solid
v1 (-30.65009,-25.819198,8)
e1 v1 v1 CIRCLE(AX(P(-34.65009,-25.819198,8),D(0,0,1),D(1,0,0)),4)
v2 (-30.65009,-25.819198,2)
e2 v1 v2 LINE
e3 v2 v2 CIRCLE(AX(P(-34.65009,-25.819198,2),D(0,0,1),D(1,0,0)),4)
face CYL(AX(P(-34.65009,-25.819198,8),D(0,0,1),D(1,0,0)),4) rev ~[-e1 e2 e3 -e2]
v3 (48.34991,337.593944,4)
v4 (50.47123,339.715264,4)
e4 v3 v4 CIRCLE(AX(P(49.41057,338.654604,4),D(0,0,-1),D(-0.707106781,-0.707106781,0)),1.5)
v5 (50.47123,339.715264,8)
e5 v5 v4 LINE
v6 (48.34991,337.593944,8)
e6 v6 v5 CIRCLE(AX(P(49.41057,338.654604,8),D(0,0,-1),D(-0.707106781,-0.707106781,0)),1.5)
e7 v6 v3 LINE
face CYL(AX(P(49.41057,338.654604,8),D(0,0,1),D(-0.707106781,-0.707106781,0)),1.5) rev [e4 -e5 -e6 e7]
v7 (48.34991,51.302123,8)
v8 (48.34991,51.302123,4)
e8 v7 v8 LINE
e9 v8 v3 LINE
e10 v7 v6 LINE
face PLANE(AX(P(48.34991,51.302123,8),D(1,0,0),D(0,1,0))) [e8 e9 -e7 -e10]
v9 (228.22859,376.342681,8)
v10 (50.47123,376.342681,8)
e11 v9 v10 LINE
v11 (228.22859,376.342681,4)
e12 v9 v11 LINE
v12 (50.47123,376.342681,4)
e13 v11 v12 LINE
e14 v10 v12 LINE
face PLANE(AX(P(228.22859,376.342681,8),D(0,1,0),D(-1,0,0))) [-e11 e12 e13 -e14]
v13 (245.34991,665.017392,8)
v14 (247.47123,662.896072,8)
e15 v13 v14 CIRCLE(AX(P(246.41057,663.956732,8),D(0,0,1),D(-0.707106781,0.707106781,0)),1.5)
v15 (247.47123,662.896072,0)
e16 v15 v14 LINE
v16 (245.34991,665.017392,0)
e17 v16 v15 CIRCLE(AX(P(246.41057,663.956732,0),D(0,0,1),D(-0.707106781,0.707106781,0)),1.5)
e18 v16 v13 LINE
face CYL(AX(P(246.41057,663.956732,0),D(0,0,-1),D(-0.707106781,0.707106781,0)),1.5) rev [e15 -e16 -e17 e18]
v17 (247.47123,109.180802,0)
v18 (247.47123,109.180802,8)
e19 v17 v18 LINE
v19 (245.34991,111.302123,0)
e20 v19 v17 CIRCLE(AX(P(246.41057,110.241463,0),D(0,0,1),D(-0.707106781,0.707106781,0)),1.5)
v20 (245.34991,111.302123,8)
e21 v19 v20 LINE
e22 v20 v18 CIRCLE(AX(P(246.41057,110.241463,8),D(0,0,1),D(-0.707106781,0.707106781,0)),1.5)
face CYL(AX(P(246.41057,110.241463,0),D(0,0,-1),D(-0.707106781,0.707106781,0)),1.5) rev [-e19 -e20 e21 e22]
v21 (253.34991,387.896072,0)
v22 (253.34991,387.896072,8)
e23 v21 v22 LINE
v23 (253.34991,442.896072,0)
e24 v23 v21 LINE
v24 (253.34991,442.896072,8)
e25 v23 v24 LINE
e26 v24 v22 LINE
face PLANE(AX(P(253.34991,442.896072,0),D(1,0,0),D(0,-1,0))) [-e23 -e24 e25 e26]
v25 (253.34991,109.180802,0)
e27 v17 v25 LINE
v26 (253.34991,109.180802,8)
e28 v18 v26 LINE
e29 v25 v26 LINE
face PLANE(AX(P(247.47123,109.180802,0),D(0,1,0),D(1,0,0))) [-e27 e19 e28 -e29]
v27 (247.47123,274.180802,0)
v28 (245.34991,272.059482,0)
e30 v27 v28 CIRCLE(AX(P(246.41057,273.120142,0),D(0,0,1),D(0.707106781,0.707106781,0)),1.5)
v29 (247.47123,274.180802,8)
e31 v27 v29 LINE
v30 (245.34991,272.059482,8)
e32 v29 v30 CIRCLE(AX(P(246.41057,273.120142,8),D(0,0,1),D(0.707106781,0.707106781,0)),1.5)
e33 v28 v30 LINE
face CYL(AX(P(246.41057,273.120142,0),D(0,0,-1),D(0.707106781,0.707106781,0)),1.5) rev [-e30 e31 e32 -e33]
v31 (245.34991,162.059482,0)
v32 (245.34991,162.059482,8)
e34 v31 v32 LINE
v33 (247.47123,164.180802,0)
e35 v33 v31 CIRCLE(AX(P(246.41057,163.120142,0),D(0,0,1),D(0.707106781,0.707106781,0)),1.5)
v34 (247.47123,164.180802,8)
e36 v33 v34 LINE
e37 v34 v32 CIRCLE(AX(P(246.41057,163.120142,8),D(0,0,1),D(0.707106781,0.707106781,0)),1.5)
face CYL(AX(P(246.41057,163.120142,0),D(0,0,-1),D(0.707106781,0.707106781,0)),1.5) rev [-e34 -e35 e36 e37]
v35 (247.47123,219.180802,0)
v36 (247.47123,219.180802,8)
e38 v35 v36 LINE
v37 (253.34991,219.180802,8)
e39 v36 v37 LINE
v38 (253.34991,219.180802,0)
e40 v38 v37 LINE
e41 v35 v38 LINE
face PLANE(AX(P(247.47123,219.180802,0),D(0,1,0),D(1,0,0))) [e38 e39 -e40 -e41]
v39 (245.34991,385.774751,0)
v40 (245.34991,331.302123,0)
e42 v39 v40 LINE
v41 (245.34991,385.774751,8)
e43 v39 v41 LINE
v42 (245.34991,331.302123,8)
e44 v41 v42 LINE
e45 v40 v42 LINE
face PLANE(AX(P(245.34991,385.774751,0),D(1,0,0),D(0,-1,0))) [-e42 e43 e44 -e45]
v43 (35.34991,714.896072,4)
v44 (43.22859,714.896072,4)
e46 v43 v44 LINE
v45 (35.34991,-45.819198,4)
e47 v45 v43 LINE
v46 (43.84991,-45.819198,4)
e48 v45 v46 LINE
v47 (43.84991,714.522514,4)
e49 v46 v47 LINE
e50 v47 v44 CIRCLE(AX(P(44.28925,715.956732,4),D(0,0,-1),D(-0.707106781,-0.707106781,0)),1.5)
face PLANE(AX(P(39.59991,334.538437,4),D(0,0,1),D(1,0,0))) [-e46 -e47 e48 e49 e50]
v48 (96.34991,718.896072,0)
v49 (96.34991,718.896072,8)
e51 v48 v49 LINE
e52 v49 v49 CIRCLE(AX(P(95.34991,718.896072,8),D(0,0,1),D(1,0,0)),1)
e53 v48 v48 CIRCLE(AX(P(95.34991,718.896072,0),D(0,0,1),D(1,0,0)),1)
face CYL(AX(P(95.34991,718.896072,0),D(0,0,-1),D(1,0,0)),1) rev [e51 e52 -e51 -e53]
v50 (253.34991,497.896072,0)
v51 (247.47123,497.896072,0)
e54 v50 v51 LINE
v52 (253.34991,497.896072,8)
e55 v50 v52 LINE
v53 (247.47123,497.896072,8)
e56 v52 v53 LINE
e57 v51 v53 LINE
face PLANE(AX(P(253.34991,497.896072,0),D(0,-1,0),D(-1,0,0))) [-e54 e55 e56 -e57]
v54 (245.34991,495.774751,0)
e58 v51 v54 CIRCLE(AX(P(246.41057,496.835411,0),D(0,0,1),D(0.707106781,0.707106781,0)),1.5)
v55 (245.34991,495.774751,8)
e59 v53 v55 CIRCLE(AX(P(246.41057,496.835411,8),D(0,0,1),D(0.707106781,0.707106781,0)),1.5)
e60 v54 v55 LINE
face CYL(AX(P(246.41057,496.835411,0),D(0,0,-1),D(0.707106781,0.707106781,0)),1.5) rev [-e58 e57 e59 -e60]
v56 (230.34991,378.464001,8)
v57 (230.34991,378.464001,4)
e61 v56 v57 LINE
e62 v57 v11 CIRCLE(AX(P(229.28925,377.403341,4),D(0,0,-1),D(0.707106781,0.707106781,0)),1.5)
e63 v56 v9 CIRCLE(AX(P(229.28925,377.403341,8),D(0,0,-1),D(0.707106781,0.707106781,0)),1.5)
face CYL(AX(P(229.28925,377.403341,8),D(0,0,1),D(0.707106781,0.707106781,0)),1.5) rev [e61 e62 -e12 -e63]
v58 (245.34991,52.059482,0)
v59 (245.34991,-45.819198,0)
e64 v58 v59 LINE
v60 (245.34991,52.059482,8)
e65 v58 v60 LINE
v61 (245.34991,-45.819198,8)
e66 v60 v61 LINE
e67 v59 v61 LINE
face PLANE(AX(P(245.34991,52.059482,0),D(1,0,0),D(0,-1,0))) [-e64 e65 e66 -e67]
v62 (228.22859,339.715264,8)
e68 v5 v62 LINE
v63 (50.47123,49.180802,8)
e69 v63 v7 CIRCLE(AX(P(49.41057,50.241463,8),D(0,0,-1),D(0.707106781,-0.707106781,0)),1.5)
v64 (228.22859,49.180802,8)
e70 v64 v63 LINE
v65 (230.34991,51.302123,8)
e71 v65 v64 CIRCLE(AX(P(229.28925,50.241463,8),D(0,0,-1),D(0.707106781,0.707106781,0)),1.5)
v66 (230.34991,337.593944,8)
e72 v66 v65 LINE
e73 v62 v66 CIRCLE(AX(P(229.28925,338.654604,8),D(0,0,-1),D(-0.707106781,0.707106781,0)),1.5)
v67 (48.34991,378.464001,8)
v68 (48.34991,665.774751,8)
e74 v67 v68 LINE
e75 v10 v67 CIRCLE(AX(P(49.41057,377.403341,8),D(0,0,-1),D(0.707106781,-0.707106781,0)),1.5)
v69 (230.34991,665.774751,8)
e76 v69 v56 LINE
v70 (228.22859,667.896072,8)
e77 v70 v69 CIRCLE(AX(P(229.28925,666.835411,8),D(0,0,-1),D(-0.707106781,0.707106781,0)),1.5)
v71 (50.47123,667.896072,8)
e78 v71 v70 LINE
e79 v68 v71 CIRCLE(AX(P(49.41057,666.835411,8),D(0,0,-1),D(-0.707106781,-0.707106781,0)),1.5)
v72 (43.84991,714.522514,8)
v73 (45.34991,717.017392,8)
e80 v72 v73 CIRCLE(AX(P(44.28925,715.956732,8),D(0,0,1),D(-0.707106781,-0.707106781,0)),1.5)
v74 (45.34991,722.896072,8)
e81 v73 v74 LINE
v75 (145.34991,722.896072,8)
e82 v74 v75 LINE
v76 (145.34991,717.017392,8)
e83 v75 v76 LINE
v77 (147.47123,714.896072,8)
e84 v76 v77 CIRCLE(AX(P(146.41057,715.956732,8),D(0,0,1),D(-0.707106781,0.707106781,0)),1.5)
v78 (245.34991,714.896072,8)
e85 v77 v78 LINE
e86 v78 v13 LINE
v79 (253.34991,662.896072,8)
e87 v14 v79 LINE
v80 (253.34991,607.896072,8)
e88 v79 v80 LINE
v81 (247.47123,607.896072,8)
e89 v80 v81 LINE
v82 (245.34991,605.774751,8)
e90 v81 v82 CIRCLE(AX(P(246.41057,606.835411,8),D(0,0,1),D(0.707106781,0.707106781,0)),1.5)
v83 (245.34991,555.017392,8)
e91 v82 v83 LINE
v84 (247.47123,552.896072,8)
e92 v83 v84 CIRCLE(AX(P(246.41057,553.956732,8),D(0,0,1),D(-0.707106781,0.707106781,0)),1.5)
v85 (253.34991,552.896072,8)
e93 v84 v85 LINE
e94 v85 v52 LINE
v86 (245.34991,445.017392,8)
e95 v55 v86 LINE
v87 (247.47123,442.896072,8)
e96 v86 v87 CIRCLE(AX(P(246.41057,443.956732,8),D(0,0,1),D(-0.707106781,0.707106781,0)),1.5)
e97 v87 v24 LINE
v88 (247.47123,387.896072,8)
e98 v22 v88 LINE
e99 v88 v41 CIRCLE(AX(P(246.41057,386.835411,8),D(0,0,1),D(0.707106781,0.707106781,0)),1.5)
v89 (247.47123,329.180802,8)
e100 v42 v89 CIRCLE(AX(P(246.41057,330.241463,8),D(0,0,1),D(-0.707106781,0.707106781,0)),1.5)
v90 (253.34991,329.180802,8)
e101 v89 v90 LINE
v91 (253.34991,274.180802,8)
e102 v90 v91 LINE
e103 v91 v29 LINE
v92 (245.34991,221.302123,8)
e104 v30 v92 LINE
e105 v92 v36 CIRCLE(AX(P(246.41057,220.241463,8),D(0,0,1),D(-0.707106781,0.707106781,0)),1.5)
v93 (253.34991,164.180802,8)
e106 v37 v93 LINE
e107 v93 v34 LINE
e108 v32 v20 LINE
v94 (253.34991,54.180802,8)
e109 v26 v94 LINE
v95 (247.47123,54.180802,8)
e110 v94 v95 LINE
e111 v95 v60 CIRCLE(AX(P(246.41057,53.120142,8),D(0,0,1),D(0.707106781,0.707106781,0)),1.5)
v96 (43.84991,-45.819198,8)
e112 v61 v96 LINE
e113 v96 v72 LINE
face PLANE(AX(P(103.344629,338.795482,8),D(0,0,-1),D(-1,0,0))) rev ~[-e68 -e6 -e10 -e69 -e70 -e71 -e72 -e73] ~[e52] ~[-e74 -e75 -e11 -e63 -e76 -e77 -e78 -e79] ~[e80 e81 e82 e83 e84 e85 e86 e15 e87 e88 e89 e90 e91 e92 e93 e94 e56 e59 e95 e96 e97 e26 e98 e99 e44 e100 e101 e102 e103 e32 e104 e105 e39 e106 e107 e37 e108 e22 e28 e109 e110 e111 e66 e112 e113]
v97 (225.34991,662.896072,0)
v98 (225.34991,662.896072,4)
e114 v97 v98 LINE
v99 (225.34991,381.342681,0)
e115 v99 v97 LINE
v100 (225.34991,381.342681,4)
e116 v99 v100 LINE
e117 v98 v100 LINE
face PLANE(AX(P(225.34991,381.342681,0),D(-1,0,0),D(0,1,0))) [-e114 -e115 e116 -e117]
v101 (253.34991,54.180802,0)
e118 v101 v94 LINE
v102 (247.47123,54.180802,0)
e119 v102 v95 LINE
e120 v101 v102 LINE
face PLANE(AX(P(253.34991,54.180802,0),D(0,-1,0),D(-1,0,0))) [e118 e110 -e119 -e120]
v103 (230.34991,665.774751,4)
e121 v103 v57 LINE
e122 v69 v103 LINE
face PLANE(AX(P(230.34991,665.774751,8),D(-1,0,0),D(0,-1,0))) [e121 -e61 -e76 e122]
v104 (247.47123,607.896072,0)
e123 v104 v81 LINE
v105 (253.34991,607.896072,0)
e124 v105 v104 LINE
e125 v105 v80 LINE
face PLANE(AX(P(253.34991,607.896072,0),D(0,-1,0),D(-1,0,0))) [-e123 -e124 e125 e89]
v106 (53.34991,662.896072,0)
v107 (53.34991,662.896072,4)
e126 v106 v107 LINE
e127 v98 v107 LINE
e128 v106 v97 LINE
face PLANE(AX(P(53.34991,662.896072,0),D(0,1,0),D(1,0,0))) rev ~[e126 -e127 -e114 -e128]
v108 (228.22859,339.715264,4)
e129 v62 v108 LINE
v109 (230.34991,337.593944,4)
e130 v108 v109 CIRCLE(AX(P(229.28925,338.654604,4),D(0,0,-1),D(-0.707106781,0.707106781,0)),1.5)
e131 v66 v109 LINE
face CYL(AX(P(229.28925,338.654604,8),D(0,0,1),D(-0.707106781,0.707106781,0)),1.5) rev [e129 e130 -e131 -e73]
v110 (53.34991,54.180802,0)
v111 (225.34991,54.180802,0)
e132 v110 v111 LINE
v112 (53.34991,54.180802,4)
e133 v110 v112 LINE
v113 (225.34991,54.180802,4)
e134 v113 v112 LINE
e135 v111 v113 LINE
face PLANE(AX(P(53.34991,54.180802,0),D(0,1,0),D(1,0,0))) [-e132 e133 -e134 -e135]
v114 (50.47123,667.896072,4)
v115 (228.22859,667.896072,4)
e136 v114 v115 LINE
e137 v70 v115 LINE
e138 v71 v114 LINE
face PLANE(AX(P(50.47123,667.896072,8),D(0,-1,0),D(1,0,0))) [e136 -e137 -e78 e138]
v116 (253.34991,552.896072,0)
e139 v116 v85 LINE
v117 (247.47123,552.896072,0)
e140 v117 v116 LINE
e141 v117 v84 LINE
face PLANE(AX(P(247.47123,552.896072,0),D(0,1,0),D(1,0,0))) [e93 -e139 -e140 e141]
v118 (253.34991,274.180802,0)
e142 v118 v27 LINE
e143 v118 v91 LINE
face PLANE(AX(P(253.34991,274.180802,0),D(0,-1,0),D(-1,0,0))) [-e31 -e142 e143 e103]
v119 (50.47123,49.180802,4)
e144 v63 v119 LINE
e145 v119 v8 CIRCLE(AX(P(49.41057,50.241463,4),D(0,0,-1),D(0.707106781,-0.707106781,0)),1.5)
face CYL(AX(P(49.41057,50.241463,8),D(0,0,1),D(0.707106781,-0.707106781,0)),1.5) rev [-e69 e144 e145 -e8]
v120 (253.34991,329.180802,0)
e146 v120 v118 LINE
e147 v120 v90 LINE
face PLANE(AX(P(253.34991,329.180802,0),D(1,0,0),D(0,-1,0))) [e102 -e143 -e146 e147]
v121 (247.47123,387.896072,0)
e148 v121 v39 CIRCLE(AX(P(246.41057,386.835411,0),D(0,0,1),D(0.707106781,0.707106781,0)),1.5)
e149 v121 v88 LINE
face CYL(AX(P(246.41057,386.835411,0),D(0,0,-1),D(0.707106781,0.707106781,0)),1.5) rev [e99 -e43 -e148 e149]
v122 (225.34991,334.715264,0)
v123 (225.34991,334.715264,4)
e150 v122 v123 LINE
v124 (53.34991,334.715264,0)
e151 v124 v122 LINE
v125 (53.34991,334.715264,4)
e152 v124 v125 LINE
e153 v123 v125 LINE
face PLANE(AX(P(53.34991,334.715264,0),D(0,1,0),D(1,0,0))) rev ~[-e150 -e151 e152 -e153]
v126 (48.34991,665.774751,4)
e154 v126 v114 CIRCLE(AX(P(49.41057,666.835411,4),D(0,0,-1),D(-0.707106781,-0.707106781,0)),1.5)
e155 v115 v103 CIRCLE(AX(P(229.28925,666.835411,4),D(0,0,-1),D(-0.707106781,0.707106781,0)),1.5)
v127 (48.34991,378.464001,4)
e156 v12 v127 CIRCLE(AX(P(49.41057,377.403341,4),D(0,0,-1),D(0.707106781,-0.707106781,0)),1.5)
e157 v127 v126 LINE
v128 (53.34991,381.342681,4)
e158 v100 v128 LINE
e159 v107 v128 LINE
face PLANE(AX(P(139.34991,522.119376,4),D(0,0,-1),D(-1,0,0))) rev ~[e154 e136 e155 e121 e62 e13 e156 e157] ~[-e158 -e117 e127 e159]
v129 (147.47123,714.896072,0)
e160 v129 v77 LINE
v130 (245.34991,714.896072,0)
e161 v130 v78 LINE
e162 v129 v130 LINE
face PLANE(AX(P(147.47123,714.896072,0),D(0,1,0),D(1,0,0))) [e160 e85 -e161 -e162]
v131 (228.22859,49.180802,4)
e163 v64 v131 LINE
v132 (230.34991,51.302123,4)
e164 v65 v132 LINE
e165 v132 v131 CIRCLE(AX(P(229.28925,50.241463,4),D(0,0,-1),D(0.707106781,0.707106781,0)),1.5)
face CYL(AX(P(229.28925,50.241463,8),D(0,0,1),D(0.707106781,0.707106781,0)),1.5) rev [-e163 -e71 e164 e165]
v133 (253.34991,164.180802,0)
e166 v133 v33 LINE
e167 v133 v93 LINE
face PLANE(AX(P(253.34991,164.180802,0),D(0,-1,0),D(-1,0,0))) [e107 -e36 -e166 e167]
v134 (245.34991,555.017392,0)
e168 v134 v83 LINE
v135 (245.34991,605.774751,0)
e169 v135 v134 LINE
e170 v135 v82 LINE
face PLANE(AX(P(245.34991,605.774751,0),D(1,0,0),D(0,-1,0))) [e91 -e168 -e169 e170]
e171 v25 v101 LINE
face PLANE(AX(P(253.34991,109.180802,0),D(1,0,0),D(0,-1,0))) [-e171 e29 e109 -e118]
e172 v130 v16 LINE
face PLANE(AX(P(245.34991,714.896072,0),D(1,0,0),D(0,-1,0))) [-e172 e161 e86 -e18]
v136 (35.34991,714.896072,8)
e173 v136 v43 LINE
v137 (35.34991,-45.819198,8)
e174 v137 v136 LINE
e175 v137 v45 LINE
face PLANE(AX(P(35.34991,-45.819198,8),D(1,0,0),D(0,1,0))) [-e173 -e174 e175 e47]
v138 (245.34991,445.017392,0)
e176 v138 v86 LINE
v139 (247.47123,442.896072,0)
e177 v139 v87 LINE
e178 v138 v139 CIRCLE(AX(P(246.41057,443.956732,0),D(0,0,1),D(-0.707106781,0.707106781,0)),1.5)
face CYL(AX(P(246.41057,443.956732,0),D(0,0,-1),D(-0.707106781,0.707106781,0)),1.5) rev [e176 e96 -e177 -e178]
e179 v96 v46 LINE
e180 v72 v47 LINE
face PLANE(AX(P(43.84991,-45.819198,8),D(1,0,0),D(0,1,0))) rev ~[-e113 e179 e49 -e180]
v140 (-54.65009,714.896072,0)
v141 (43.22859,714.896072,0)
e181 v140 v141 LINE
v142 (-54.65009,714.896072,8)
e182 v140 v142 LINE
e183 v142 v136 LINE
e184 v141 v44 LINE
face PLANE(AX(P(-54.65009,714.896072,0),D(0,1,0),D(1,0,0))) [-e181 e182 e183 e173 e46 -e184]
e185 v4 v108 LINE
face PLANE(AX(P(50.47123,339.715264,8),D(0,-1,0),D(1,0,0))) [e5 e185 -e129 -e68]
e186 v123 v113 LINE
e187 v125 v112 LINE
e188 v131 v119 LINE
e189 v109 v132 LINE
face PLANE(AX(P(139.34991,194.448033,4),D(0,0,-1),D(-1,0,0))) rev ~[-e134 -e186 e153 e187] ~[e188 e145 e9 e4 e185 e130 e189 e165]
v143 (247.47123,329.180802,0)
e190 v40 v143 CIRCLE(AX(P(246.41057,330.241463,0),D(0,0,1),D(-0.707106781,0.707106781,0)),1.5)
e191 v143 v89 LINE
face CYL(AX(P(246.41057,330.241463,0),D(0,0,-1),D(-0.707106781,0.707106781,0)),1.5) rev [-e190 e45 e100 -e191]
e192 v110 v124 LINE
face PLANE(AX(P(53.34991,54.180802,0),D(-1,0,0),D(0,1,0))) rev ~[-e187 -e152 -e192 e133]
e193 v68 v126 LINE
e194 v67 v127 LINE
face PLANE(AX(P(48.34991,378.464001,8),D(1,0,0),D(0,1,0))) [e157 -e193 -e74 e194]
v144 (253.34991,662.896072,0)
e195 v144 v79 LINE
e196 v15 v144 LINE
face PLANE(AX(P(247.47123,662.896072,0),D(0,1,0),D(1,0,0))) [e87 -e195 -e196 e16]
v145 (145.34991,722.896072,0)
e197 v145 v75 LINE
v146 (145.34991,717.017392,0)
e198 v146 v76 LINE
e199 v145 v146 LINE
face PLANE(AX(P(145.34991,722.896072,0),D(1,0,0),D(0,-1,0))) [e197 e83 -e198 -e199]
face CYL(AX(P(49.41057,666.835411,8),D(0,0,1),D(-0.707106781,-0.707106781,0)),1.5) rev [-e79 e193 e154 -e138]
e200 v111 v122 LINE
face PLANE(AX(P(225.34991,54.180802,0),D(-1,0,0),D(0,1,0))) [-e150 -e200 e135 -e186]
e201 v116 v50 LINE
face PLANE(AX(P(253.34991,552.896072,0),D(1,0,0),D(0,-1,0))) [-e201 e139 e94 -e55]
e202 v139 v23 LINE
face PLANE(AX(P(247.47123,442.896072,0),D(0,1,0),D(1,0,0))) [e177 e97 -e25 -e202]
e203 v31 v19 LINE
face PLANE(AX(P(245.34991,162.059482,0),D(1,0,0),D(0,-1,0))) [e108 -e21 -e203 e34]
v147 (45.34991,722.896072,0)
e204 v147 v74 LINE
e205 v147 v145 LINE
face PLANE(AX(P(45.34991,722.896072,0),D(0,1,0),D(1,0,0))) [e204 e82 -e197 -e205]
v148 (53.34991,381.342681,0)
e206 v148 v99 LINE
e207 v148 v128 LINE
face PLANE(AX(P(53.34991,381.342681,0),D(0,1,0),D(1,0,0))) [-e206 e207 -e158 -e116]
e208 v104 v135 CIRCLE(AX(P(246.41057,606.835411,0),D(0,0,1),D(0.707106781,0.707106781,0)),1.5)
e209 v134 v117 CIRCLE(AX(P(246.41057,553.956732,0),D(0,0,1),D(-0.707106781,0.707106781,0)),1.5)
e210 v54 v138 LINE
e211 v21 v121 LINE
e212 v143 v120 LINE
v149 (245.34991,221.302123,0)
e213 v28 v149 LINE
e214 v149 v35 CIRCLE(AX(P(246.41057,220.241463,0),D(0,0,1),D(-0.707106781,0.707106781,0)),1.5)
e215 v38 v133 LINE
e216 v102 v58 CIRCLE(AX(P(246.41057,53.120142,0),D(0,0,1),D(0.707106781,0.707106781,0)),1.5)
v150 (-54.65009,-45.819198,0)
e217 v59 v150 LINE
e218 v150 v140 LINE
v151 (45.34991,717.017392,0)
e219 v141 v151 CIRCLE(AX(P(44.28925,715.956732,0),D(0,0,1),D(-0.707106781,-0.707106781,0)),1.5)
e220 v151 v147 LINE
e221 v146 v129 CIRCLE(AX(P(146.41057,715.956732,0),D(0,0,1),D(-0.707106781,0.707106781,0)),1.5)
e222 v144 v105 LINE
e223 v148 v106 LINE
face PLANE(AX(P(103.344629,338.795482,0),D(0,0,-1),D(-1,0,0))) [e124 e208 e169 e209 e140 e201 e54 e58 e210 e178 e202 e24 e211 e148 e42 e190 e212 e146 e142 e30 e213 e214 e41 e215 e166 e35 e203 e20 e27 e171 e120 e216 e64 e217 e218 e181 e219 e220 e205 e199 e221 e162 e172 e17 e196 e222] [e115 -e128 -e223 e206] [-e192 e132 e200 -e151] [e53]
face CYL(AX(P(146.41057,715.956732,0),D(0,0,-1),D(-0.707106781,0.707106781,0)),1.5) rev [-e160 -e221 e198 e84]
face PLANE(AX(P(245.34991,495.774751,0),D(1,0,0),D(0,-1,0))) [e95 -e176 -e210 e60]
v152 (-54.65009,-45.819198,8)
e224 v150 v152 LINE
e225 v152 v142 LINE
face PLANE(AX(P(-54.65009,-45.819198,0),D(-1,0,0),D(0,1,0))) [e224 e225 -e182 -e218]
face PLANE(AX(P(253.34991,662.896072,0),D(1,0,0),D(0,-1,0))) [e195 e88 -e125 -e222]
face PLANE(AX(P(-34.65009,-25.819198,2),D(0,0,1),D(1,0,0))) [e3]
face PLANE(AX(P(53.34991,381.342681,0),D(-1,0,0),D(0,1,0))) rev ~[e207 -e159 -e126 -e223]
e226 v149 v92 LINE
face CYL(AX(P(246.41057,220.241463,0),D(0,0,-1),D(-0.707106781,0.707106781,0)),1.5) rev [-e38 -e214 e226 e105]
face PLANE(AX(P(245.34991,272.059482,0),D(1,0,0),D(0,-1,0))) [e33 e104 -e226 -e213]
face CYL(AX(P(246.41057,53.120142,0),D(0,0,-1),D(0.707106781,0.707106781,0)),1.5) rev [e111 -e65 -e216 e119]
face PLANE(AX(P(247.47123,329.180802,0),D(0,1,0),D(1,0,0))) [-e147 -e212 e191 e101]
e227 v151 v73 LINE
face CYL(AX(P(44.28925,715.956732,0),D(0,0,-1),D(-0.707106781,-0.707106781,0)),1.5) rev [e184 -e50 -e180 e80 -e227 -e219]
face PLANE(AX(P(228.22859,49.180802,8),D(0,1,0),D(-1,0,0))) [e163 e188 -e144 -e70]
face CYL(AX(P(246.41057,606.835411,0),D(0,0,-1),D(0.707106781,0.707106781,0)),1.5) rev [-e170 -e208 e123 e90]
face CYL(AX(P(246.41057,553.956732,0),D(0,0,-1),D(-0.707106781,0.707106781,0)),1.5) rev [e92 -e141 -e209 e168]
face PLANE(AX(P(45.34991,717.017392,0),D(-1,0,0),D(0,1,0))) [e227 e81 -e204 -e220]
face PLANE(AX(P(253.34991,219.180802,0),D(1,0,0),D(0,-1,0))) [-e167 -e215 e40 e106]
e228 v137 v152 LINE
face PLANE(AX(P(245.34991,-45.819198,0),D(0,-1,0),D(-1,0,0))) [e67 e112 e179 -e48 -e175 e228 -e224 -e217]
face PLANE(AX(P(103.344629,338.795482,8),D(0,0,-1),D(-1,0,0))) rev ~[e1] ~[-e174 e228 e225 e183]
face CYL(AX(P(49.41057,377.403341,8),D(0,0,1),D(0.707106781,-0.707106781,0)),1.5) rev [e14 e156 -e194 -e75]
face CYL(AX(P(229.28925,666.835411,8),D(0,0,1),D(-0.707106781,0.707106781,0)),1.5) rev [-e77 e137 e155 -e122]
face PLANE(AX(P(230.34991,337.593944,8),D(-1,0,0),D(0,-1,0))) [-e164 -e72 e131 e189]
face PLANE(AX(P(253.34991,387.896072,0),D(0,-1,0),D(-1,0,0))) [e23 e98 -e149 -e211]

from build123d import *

# Parameters (mm, degrees)
ESQUISSE1_R             = 1
ESQUISSE1_W             = 172
ESQUISSE1_H             = 281.553390594
ESQUISSE1_H_2           = 280.534461641
BOSS_EXTRU_1_DEPTH      = 8
ENL_V_MAT_EXTRU_1_DEPTH = 4
ESQUISSE3_W             = 8.5
ESQUISSE3_H             = 760.715269233
ENL_V_MAT_EXTRU_2_DEPTH = 4
ESQUISSE4_R             = 4
ENL_V_MAT_EXTRU_3_DEPTH = 6


with BuildPart() as part:
    # Esquisse1 → Boss.-Extru.1 (new body)
    with BuildSketch(Plane.XY):
        with BuildLine():
            Line((-54.650090097, -45.819197646), (-54.650090097, 358.028972494))
            Line((-54.650090097, 358.028972494), (-54.650090097, 714.896071587))
            Line((-54.650090097, 714.896071587), (43.228589559, 714.896071587))
            ThreePointArc((43.228589559, 714.896071587), (45.349909903, 714.896071587), (45.349909903, 717.01739193))
            Line((45.349909903, 717.01739193), (45.349909903, 722.896071587))
            Line((45.349909903, 722.896071587), (145.349909903, 722.896071587))
            Line((145.349909903, 722.896071587), (145.349909903, 717.01739193))
            ThreePointArc((145.349909903, 717.01739193), (145.349909903, 714.896071587), (147.471230246, 714.896071587))
            Line((147.471230246, 714.896071587), (245.349909903, 714.896071587))
            Line((245.349909903, 714.896071587), (245.349909903, 665.01739193))
            ThreePointArc((245.349909903, 665.01739193), (245.349909903, 662.896071587), (247.471230246, 662.896071587))
            Line((247.471230246, 662.896071587), (253.349909903, 662.896071587))
            Line((253.349909903, 662.896071587), (253.349909903, 607.896071587))
            Line((253.349909903, 607.896071587), (247.471230246, 607.896071587))
            ThreePointArc((247.471230246, 607.896071587), (245.349909903, 607.896071587), (245.349909903, 605.774751243))
            Line((245.349909903, 605.774751243), (245.349909903, 555.01739193))
            ThreePointArc((245.349909903, 555.01739193), (245.349909903, 552.896071587), (247.471230246, 552.896071587))
            Line((247.471230246, 552.896071587), (253.349909903, 552.896071587))
            Line((253.349909903, 552.896071587), (253.349909903, 497.896071587))
            Line((253.349909903, 497.896071587), (247.471230246, 497.896071587))
            ThreePointArc((247.471230246, 497.896071587), (245.349909903, 497.896071587), (245.349909903, 495.774751243))
            Line((245.349909903, 495.774751243), (245.349909903, 445.01739193))
            ThreePointArc((245.349909903, 445.01739193), (245.349909903, 442.896071587), (247.471230246, 442.896071587))
            Line((247.471230246, 442.896071587), (253.349909903, 442.896071587))
            Line((253.349909903, 442.896071587), (253.349909903, 387.896071587))
            Line((253.349909903, 387.896071587), (247.471230246, 387.896071587))
            ThreePointArc((247.471230246, 387.896071587), (245.349909903, 387.896071587), (245.349909903, 385.774751243))
            Line((245.349909903, 385.774751243), (245.349909903, 331.302122698))
            ThreePointArc((245.349909903, 331.302122698), (245.349909903, 329.180802354), (247.471230246, 329.180802354))
            Line((247.471230246, 329.180802354), (253.349909903, 329.180802354))
            Line((253.349909903, 329.180802354), (253.349909903, 274.180802354))
            Line((253.349909903, 274.180802354), (247.471230246, 274.180802354))
            ThreePointArc((247.471230246, 274.180802354), (245.349909903, 274.180802354), (245.349909903, 272.059482011))
            Line((245.349909903, 272.059482011), (245.349909903, 221.302122698))
            ThreePointArc((245.349909903, 221.302122698), (245.349909903, 219.180802354), (247.471230246, 219.180802354))
            Line((247.471230246, 219.180802354), (253.349909903, 219.180802354))
            Line((253.349909903, 219.180802354), (253.349909903, 164.180802354))
            Line((253.349909903, 164.180802354), (247.471230246, 164.180802354))
            ThreePointArc((247.471230246, 164.180802354), (245.349909903, 164.180802354), (245.349909903, 162.059482011))
            Line((245.349909903, 162.059482011), (245.349909903, 111.302122698))
            ThreePointArc((245.349909903, 111.302122698), (245.349909903, 109.180802354), (247.471230246, 109.180802354))
            Line((247.471230246, 109.180802354), (253.349909903, 109.180802354))
            Line((253.349909903, 109.180802354), (253.349909903, 54.180802354))
            Line((253.349909903, 54.180802354), (247.471230246, 54.180802354))
            ThreePointArc((247.471230246, 54.180802354), (245.349909903, 54.180802354), (245.349909903, 52.059482011))
            Line((245.349909903, 52.059482011), (245.349909903, -45.819197646))
            Line((245.349909903, -45.819197646), (-54.650090097, -45.819197646))
        make_face()
        with Locations((95.349909903, 718.896071587)):
            Circle(ESQUISSE1_R, mode=Mode.SUBTRACT)
        with Locations((139.349909903, 522.11937629)):
            Rectangle(ESQUISSE1_W, ESQUISSE1_H, mode=Mode.SUBTRACT)
        with Locations((139.349909903, 194.448033175)):
            Rectangle(ESQUISSE1_W, ESQUISSE1_H_2, mode=Mode.SUBTRACT)
    extrude(amount=BOSS_EXTRU_1_DEPTH)

    # Esquisse2 → Enlèv. mat.-Extru.1 (cut)
    with BuildSketch(Plane.XY.offset(8)):
        with BuildLine():
            Line((50.471230246, 339.715263995), (228.228589559, 339.715263995))
            ThreePointArc((228.228589559, 339.715263995), (230.349909903, 339.715263995), (230.349909903, 337.593943652))
            Line((230.349909903, 337.593943652), (230.349909903, 51.302122698))
            ThreePointArc((230.349909903, 51.302122698), (230.349909903, 49.180802354), (228.228589559, 49.180802354))
            Line((228.228589559, 49.180802354), (50.471230246, 49.180802354))
            ThreePointArc((50.471230246, 49.180802354), (48.349909903, 49.180802354), (48.349909903, 51.302122698))
            Line((48.349909903, 51.302122698), (48.349909903, 337.593943652))
            ThreePointArc((48.349909903, 337.593943652), (48.349909903, 339.715263995), (50.471230246, 339.715263995))
        make_face()
        with BuildLine():
            Line((50.471230246, 667.896071587), (228.228589559, 667.896071587))
            ThreePointArc((228.228589559, 667.896071587), (230.349909903, 667.896071587), (230.349909903, 665.774751243))
            Line((230.349909903, 665.774751243), (230.349909903, 378.464001337))
            ThreePointArc((230.349909903, 378.464001337), (230.349909903, 376.342680993), (228.228589559, 376.342680993))
            Line((228.228589559, 376.342680993), (50.471230246, 376.342680993))
            ThreePointArc((50.471230246, 376.342680993), (48.349909903, 376.342680993), (48.349909903, 378.464001337))
            Line((48.349909903, 378.464001337), (48.349909903, 665.774751243))
            ThreePointArc((48.349909903, 665.774751243), (48.349909903, 667.896071587), (50.471230246, 667.896071587))
        make_face()
    extrude(amount=-ENL_V_MAT_EXTRU_1_DEPTH, mode=Mode.SUBTRACT)

    # Esquisse3 → Enlèv. mat.-Extru.2 (cut)
    with BuildSketch(Plane.XY.offset(8)):
        with Locations((39.599909903, 334.538436971)):
            Rectangle(ESQUISSE3_W, ESQUISSE3_H)
    extrude(amount=-ENL_V_MAT_EXTRU_2_DEPTH, mode=Mode.SUBTRACT)

    # Esquisse4 → Enlèv. mat.-Extru.3 (cut)
    with BuildSketch(Plane.XY.offset(8)):
        with Locations((-34.650090097, -25.819197646)):
            Circle(ESQUISSE4_R)
    extrude(amount=-ENL_V_MAT_EXTRU_3_DEPTH, mode=Mode.SUBTRACT)


solid = part.part
